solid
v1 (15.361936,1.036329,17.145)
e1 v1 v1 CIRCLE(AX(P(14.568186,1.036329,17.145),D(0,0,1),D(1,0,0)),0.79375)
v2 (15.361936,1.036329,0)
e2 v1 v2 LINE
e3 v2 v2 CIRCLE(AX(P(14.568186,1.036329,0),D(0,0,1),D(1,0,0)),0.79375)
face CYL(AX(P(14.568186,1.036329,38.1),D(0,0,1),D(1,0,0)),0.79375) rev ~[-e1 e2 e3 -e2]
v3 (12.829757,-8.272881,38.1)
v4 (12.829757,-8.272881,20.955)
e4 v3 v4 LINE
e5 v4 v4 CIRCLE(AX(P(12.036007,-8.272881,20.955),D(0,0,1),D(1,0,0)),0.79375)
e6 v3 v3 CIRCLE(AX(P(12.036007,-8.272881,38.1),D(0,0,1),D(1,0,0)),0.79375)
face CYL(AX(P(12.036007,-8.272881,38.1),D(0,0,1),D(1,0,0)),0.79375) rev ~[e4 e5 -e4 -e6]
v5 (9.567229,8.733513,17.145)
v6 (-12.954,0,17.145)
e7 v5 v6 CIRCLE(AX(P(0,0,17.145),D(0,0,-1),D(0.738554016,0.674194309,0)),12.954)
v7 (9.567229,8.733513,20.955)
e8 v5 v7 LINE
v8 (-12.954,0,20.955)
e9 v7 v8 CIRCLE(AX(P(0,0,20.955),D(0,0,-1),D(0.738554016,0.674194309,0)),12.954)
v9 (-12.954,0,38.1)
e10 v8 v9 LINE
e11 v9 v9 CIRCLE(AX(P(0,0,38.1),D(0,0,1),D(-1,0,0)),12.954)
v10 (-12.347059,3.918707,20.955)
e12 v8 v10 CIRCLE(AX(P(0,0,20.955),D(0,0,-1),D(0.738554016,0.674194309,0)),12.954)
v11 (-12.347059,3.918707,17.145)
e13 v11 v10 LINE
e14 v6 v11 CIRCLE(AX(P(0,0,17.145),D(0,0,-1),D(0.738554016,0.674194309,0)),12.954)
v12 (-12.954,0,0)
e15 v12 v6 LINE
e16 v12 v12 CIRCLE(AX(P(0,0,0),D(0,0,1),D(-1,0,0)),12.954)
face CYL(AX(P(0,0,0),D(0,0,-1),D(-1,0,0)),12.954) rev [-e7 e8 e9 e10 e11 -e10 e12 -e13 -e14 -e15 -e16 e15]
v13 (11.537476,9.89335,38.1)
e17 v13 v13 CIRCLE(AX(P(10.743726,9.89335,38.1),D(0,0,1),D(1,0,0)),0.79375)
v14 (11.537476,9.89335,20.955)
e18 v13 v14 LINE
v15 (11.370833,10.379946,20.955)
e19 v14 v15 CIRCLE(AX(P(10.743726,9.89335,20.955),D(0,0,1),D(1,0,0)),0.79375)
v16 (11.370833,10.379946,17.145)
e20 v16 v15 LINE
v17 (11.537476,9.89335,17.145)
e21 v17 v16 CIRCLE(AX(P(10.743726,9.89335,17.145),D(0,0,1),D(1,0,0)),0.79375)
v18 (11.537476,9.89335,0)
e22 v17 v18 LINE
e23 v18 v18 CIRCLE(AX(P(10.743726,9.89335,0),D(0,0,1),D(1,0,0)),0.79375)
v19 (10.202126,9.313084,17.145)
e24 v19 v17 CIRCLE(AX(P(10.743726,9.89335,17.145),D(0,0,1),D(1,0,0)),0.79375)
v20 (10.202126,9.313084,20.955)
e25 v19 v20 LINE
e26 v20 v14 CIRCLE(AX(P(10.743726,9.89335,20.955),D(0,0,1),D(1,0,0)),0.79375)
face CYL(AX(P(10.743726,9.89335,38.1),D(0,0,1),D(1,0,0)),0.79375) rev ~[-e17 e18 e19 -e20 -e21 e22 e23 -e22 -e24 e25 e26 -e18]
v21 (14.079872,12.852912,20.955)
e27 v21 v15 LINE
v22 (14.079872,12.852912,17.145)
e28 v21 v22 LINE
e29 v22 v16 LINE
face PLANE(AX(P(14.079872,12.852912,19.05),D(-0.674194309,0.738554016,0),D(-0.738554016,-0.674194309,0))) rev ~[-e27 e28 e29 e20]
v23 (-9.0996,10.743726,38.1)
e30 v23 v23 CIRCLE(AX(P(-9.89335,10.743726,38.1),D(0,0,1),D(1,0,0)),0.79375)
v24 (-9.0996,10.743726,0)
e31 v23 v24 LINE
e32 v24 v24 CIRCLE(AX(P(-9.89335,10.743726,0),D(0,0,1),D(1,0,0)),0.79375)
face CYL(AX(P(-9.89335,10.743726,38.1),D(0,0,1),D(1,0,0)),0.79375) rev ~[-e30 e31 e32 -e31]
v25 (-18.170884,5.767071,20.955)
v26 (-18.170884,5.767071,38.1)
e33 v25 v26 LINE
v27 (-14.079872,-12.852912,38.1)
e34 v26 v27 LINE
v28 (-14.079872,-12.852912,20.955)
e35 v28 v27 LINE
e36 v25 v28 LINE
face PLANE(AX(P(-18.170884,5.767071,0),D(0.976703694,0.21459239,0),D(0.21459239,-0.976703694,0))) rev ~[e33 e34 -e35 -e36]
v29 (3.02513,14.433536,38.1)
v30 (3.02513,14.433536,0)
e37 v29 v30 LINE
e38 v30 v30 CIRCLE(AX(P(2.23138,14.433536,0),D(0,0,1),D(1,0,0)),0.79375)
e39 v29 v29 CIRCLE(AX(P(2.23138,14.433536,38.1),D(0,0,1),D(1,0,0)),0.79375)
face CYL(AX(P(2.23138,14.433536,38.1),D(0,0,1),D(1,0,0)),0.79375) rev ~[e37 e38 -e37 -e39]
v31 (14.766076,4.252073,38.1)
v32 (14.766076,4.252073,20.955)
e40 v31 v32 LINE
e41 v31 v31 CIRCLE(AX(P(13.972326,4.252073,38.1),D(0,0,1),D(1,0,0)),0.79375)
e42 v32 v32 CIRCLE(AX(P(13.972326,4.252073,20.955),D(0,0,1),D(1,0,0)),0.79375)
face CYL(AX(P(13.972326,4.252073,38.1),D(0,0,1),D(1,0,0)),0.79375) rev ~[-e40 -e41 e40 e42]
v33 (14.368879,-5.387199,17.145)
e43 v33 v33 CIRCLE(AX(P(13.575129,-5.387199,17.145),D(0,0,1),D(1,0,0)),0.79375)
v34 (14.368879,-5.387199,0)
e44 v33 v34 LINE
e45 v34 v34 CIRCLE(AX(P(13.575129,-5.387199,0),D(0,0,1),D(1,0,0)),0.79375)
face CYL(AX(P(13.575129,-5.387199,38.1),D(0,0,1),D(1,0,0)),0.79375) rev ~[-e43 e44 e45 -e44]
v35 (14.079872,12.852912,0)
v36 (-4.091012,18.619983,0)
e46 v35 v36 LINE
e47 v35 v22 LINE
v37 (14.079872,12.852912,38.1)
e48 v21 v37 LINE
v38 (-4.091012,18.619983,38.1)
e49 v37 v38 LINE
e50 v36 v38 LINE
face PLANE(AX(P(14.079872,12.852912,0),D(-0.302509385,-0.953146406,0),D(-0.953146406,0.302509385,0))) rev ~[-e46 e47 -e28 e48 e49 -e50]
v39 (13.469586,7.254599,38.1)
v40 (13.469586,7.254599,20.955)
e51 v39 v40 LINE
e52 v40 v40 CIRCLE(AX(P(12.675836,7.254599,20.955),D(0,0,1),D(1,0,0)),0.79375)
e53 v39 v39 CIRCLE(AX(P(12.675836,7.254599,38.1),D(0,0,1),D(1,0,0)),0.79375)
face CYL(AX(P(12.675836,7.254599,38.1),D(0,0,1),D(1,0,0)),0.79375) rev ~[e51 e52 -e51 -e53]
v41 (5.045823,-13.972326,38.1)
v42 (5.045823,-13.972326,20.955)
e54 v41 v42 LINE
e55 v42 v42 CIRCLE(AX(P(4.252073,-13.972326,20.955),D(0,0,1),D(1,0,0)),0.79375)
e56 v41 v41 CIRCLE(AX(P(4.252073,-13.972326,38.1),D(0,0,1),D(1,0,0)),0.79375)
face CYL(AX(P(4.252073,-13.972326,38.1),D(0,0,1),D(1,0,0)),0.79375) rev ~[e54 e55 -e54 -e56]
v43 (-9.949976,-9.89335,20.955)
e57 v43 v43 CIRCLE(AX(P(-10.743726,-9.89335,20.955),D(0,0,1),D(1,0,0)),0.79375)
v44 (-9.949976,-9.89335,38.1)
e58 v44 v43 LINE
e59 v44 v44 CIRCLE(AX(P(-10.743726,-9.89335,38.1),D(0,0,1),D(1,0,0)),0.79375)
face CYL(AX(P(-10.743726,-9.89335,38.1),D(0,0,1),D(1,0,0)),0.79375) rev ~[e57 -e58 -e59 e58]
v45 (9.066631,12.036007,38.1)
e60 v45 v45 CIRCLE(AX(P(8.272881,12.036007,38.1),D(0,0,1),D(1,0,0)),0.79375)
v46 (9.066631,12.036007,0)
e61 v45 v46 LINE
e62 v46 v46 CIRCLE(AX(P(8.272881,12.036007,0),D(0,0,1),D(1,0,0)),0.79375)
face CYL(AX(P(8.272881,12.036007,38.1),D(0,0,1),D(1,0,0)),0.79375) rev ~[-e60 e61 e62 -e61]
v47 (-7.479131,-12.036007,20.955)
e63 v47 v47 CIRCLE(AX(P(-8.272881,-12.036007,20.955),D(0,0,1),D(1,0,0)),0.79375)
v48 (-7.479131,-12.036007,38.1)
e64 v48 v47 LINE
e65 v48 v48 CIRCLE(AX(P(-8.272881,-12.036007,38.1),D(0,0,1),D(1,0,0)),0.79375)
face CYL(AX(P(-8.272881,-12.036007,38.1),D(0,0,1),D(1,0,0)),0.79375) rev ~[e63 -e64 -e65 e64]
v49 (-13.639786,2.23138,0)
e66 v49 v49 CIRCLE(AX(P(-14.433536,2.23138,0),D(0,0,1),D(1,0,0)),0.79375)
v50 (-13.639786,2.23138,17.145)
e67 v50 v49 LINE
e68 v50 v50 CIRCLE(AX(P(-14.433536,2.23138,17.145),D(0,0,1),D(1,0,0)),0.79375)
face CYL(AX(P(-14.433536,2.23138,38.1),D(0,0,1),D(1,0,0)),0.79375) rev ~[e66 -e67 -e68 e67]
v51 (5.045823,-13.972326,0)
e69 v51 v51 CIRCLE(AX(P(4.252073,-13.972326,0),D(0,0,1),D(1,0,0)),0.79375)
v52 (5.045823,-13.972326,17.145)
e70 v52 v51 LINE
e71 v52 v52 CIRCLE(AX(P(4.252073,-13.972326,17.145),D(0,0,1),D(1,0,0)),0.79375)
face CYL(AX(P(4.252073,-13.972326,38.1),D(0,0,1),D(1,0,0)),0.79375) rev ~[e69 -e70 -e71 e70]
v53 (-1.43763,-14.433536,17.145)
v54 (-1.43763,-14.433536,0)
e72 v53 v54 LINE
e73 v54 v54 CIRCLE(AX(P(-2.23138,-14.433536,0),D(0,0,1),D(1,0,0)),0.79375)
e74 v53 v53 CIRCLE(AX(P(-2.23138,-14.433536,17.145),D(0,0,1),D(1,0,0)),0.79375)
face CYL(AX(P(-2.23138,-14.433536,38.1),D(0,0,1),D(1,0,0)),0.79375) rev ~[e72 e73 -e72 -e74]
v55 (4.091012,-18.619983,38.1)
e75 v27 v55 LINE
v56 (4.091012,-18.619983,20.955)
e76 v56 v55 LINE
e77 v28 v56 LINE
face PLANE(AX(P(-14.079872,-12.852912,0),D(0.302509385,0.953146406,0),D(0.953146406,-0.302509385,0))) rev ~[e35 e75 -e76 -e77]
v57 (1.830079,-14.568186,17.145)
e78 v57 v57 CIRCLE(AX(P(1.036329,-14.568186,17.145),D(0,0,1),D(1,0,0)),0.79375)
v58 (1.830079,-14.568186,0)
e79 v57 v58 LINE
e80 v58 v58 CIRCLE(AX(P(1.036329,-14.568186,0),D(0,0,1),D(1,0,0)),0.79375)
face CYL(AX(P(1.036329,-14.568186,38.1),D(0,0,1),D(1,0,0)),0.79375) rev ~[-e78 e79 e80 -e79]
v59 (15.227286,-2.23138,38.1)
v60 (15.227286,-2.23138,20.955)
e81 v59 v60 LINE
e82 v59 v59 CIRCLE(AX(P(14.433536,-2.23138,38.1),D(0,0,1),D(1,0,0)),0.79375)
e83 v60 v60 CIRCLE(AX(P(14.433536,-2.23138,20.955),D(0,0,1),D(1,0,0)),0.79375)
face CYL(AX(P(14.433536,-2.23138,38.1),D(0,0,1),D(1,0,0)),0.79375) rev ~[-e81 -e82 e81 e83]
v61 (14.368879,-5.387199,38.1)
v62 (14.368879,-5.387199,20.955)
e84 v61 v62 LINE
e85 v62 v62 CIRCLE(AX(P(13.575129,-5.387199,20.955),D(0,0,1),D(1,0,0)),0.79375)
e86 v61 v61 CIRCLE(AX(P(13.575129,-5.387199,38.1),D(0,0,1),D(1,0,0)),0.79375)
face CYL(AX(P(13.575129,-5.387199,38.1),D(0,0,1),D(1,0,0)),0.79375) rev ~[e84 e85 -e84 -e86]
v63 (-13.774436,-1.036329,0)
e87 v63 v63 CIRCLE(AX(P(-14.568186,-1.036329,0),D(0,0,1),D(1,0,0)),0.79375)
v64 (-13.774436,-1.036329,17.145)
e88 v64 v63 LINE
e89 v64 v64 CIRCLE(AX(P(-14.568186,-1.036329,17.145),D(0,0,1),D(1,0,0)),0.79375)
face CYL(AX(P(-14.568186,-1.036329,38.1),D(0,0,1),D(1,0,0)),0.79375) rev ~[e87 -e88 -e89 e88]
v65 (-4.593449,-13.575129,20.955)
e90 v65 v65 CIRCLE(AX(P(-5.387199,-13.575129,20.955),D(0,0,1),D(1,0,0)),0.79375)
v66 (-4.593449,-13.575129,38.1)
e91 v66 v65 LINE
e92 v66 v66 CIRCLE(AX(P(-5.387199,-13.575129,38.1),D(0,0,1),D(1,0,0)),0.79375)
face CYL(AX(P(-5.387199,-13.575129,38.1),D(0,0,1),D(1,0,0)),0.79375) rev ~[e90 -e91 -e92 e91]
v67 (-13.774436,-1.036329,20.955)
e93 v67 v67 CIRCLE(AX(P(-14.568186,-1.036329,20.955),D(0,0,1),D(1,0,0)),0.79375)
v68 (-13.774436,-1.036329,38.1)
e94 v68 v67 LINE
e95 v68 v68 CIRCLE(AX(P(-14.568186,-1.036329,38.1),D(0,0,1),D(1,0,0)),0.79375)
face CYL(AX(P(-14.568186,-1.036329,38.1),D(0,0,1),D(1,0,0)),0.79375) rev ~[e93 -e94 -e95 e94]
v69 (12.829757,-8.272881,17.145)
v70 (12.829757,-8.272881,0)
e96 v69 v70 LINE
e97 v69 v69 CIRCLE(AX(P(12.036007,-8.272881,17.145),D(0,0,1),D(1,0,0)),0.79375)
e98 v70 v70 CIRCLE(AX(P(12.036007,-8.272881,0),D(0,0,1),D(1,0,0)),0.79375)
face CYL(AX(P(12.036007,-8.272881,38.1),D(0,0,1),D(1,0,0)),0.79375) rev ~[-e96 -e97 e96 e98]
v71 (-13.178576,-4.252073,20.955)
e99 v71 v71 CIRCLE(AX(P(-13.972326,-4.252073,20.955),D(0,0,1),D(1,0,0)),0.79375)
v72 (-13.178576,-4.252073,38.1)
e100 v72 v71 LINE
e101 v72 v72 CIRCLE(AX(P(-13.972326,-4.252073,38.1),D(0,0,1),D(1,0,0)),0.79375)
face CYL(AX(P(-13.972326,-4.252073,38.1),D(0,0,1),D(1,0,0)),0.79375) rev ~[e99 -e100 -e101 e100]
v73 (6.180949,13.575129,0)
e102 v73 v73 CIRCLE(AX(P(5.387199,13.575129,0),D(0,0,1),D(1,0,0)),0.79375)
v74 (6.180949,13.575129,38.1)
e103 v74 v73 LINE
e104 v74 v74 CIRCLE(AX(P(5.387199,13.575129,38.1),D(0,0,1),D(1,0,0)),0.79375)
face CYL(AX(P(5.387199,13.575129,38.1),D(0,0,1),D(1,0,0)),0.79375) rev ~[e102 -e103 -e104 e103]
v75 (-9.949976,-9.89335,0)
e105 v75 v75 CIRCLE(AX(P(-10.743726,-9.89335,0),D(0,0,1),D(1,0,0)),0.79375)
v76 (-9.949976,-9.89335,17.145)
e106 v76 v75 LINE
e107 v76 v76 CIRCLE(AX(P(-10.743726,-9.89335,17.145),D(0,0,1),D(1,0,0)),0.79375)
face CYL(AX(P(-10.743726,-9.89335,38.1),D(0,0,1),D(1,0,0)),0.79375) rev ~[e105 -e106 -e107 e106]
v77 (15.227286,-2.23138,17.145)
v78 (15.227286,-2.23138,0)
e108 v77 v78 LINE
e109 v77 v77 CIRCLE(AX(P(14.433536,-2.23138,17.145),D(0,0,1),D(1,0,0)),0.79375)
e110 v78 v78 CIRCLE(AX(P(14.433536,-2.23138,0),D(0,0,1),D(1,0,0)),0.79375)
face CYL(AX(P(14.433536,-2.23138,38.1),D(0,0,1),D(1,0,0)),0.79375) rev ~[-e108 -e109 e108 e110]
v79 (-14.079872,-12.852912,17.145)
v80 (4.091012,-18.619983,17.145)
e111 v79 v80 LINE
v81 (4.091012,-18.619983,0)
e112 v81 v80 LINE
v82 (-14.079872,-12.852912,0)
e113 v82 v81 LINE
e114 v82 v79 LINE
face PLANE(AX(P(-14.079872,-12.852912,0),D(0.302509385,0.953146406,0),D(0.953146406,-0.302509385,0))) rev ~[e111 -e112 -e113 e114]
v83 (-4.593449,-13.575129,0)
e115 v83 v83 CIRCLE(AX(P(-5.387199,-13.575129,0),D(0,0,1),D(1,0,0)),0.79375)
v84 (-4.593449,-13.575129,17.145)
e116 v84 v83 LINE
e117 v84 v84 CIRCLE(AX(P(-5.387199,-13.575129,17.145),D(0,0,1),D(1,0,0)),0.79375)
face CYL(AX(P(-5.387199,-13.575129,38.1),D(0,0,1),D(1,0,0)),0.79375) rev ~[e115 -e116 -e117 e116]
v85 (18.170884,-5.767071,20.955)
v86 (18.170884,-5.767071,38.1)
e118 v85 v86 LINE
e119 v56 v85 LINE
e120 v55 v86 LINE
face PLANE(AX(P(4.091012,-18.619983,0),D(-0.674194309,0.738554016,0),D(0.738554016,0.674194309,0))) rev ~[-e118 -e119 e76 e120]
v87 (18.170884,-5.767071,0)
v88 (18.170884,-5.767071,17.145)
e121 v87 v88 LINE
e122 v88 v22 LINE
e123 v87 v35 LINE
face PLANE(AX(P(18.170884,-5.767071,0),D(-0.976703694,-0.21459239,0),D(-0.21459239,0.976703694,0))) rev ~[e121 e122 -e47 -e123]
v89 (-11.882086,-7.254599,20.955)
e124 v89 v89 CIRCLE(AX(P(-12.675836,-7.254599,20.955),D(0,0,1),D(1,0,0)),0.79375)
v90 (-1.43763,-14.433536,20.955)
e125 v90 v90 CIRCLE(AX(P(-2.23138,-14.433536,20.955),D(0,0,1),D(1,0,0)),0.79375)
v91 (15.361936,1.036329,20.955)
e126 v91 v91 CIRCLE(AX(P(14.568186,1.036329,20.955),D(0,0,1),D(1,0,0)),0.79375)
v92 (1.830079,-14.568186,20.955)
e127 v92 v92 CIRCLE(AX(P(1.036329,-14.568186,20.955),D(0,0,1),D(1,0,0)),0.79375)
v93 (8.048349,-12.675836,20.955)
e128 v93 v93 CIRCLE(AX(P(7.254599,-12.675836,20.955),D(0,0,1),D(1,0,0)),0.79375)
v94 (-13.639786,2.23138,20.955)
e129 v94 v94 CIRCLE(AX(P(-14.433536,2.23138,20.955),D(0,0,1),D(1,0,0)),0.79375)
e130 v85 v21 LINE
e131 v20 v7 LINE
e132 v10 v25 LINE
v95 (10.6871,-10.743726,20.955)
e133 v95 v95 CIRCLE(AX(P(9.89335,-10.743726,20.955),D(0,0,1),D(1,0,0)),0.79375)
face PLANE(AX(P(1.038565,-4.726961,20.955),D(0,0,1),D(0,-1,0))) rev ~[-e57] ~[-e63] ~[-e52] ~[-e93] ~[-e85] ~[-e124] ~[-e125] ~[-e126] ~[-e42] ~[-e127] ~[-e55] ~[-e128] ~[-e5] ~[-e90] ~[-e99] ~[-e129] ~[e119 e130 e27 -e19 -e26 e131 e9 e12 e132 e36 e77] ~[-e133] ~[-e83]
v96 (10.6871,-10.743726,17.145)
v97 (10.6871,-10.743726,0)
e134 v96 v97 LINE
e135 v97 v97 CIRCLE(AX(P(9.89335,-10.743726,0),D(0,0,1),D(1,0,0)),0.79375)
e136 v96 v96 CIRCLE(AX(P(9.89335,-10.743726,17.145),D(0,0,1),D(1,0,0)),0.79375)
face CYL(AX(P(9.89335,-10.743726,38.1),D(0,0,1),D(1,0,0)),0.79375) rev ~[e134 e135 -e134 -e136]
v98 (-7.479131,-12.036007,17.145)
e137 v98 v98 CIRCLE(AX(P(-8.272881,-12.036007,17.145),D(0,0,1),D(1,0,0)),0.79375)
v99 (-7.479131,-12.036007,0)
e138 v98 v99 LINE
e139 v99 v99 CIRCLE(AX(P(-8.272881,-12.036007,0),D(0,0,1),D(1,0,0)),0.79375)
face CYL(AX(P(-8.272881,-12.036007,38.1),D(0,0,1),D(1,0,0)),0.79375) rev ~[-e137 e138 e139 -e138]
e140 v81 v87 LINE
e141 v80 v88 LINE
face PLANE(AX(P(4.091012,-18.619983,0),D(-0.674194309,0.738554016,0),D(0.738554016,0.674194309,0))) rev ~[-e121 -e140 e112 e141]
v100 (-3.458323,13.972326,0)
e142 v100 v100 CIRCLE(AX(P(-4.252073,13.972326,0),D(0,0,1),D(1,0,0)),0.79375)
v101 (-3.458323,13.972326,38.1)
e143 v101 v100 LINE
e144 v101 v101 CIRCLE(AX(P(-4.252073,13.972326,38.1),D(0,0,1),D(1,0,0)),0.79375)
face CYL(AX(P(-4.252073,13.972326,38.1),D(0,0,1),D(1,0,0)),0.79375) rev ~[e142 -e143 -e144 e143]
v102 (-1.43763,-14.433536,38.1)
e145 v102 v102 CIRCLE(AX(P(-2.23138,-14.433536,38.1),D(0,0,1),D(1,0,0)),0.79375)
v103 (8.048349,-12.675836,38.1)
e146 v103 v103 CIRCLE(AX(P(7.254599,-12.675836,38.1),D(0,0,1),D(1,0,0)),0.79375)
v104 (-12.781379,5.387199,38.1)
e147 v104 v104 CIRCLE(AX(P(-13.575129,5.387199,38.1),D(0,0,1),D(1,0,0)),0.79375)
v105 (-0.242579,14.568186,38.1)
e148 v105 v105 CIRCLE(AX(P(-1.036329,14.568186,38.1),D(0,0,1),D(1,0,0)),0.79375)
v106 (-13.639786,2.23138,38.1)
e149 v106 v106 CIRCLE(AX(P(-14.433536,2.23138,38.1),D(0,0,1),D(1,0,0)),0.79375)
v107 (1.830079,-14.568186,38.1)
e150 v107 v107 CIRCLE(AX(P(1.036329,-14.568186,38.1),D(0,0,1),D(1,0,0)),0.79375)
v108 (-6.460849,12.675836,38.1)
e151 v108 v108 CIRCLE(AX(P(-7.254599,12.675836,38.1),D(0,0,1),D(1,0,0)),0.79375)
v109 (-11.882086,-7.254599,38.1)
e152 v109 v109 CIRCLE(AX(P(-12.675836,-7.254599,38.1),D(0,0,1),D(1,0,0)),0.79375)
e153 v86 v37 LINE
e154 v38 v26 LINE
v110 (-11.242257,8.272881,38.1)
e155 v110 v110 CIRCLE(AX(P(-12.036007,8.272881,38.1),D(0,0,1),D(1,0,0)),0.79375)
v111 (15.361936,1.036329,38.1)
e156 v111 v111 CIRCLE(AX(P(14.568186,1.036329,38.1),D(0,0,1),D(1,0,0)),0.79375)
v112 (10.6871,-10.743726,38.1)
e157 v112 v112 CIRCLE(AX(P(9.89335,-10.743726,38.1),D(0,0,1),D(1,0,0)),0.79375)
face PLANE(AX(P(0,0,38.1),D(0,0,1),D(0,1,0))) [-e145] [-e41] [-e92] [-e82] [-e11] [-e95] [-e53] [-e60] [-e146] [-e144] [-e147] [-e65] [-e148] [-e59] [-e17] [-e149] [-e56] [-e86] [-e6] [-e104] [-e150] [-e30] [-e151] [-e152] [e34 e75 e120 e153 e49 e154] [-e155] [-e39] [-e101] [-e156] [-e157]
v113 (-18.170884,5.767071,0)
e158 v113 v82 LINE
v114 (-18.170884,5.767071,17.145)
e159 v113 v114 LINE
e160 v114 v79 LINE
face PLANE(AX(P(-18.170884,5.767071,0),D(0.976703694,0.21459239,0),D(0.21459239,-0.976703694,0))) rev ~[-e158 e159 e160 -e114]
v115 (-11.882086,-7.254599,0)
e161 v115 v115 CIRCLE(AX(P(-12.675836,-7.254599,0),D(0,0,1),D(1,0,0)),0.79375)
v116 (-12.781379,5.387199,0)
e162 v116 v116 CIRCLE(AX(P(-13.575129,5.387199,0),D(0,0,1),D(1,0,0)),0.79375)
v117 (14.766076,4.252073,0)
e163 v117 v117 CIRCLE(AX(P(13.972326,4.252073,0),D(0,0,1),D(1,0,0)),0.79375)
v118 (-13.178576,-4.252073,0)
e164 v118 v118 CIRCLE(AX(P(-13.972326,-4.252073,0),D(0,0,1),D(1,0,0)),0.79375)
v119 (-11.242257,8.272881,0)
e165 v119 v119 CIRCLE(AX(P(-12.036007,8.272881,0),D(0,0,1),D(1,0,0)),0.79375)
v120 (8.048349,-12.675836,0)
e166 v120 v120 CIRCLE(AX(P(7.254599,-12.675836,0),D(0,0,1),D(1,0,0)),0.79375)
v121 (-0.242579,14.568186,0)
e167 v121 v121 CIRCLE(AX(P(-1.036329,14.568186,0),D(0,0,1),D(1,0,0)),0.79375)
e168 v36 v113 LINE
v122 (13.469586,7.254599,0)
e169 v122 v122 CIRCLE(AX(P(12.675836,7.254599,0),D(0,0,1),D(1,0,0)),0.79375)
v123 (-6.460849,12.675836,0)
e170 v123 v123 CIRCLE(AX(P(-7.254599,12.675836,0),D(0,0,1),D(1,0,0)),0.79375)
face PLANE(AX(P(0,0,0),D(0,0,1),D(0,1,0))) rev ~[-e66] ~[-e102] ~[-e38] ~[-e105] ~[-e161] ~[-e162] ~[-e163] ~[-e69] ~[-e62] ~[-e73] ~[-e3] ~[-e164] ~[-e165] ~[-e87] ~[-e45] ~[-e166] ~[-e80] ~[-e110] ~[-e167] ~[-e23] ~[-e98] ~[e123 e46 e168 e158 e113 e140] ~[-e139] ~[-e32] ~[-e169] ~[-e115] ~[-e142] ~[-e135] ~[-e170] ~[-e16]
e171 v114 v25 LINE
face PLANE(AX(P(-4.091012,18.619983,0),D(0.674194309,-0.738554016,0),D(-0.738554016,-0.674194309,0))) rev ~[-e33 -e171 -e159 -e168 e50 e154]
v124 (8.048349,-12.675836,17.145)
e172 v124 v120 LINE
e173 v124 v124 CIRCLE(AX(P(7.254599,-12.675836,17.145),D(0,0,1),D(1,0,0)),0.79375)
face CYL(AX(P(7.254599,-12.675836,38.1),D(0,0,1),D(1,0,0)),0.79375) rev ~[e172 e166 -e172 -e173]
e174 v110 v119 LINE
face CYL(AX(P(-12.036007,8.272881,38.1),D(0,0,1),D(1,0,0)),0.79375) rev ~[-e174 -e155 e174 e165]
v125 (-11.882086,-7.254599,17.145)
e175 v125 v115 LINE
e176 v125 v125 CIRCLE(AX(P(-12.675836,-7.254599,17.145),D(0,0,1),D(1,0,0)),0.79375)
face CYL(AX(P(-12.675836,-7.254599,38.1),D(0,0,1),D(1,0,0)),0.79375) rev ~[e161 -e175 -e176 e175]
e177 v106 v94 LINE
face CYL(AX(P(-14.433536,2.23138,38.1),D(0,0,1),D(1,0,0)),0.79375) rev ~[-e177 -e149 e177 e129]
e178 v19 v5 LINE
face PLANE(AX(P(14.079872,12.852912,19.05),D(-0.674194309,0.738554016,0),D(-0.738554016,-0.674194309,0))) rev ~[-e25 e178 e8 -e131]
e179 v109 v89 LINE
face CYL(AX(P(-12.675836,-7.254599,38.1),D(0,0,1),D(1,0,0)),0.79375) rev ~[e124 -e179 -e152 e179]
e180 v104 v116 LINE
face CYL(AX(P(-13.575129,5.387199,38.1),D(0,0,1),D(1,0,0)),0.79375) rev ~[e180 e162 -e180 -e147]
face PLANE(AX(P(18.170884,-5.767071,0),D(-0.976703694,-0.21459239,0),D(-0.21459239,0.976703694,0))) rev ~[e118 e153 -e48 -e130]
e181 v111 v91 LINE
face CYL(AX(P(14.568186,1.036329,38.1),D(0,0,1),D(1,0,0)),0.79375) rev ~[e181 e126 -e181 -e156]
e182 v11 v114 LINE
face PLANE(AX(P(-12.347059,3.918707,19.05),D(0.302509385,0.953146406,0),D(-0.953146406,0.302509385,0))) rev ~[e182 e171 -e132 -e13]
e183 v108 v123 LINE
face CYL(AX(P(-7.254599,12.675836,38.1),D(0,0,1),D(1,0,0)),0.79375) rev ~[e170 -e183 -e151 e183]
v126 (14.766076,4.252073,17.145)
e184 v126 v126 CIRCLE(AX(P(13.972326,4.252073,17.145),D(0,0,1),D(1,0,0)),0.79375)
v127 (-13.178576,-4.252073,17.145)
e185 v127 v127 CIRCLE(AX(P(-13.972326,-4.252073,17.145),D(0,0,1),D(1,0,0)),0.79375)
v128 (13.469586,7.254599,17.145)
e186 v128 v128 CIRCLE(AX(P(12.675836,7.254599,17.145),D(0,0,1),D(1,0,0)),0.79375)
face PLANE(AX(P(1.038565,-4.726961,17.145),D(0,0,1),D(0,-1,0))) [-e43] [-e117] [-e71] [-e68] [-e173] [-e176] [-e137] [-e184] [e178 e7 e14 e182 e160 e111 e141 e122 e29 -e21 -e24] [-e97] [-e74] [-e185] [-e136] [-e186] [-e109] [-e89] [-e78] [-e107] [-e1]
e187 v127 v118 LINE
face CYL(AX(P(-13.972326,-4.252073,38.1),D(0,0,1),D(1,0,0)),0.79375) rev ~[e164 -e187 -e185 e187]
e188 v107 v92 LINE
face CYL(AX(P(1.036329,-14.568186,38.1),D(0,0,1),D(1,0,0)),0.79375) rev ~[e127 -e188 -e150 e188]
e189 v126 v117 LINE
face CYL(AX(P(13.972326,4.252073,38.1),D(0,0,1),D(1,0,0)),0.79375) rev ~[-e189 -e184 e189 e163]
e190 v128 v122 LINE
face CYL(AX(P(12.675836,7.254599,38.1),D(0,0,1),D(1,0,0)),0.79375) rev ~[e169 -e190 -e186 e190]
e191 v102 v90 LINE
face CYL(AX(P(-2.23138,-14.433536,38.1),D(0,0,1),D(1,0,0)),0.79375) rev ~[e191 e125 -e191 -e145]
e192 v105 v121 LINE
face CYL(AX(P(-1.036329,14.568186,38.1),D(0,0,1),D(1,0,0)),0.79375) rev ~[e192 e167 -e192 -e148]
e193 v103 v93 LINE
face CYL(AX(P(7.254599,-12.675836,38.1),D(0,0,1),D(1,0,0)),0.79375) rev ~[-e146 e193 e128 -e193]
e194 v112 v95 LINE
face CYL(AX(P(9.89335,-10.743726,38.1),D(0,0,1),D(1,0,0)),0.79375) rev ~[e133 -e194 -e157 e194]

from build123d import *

# Parameters (mm, degrees)
SKETCH1_R           = 12.954
BOSS_EXTRUDE2_DEPTH = 38.1
SKETCH2_R           = 0.79375
CUT_EXTRUDE1_DEPTH  = 38.1
CUT_EXTRUDE3_DEPTH  = 1.905


with BuildPart() as part:
    # Sketch1 → Boss-Extrude2 (new body)
    with BuildSketch(Plane(origin=(0, 0, 0), x_dir=(0, 1, 0), z_dir=(0, 0, 1))):
        Polygon((12.85291169, -14.079871961), (18.619982645, 4.091012056), (5.767070955, 18.170884016), (-12.85291169, 14.079871961), (-18.619982645, -4.091012056), (-5.767070955, -18.170884016), align=None)
        with Locations(Location((0, 0, 0), (0, 0, 90))):
            Circle(SKETCH1_R, mode=Mode.SUBTRACT)
    extrude(amount=BOSS_EXTRUDE2_DEPTH)

    # Sketch2 → Cut-Extrude1 (cut)
    with BuildSketch(Plane.XY.offset(38.1)):
        with Locations((-13.57512855, 5.387198703)):
            Circle(SKETCH2_R)
        with Locations((-12.036007248, 8.272880667)):
            Circle(SKETCH2_R)
        with Locations((-9.893350284, 10.743725851)):
            Circle(SKETCH2_R)
        with Locations((-7.254599427, 12.675835758)):
            Circle(SKETCH2_R)
        with Locations((-4.252072661, 13.97232633)):
            Circle(SKETCH2_R)
        with Locations((-1.036329218, 14.568186117)):
            Circle(SKETCH2_R)
        with Locations((2.2313801, 14.433536221)):
            Circle(SKETCH2_R)
        with Locations((5.387198703, 13.57512855)):
            Circle(SKETCH2_R)
        with Locations((8.272880667, 12.036007248)):
            Circle(SKETCH2_R)
        with Locations((10.743725851, 9.893350284)):
            Circle(SKETCH2_R)
        with Locations((12.675835758, 7.254599427)):
            Circle(SKETCH2_R)
        with Locations((13.97232633, 4.252072661)):
            Circle(SKETCH2_R)
        with Locations((14.568186117, 1.036329218)):
            Circle(SKETCH2_R)
        with Locations((14.433536221, -2.2313801)):
            Circle(SKETCH2_R)
        with Locations((13.57512855, -5.387198703)):
            Circle(SKETCH2_R)
        with Locations((12.036007248, -8.272880667)):
            Circle(SKETCH2_R)
        with Locations((9.893350284, -10.743725851)):
            Circle(SKETCH2_R)
        with Locations((7.254599427, -12.675835758)):
            Circle(SKETCH2_R)
        with Locations((4.252072661, -13.97232633)):
            Circle(SKETCH2_R)
        with Locations((1.036329218, -14.568186117)):
            Circle(SKETCH2_R)
        with Locations((-2.2313801, -14.433536221)):
            Circle(SKETCH2_R)
        with Locations((-5.387198703, -13.57512855)):
            Circle(SKETCH2_R)
        with Locations((-8.272880667, -12.036007248)):
            Circle(SKETCH2_R)
        with Locations((-10.743725851, -9.893350284)):
            Circle(SKETCH2_R)
        with Locations((-12.675835758, -7.254599427)):
            Circle(SKETCH2_R)
        with Locations((-13.97232633, -4.252072661)):
            Circle(SKETCH2_R)
        with Locations((-14.568186117, -1.036329218)):
            Circle(SKETCH2_R)
        with Locations((-14.433536221, 2.2313801)):
            Circle(SKETCH2_R)
    extrude(amount=-CUT_EXTRUDE1_DEPTH, mode=Mode.SUBTRACT)

    # Sketch3 → Cut-Extrude3 (cut, symmetric)
    with BuildSketch(Plane(origin=(0, 0, 19.05), x_dir=(0, -1, 0), z_dir=(0, 0, 1))):
        with BuildLine():
            Line((-12.85291169, 14.079871961), (-8.733513074, 9.56722872))
            ThreePointArc((-8.733513074, 9.56722872), (12.652219652, 2.779829827), (-3.918706578, -12.347058547))
            Line((-3.918706578, -12.347058547), (-5.767070955, -18.170884016))
            Line((-5.767070955, -18.170884016), (12.85291169, -14.079871961))
            Line((12.85291169, -14.079871961), (18.619982645, 4.091012056))
            Line((18.619982645, 4.091012056), (5.767070955, 18.170884016))
            Line((5.767070955, 18.170884016), (-12.85291169, 14.079871961))
        make_face()
    extrude(amount=CUT_EXTRUDE3_DEPTH, both=True, mode=Mode.SUBTRACT)


solid = part.part
